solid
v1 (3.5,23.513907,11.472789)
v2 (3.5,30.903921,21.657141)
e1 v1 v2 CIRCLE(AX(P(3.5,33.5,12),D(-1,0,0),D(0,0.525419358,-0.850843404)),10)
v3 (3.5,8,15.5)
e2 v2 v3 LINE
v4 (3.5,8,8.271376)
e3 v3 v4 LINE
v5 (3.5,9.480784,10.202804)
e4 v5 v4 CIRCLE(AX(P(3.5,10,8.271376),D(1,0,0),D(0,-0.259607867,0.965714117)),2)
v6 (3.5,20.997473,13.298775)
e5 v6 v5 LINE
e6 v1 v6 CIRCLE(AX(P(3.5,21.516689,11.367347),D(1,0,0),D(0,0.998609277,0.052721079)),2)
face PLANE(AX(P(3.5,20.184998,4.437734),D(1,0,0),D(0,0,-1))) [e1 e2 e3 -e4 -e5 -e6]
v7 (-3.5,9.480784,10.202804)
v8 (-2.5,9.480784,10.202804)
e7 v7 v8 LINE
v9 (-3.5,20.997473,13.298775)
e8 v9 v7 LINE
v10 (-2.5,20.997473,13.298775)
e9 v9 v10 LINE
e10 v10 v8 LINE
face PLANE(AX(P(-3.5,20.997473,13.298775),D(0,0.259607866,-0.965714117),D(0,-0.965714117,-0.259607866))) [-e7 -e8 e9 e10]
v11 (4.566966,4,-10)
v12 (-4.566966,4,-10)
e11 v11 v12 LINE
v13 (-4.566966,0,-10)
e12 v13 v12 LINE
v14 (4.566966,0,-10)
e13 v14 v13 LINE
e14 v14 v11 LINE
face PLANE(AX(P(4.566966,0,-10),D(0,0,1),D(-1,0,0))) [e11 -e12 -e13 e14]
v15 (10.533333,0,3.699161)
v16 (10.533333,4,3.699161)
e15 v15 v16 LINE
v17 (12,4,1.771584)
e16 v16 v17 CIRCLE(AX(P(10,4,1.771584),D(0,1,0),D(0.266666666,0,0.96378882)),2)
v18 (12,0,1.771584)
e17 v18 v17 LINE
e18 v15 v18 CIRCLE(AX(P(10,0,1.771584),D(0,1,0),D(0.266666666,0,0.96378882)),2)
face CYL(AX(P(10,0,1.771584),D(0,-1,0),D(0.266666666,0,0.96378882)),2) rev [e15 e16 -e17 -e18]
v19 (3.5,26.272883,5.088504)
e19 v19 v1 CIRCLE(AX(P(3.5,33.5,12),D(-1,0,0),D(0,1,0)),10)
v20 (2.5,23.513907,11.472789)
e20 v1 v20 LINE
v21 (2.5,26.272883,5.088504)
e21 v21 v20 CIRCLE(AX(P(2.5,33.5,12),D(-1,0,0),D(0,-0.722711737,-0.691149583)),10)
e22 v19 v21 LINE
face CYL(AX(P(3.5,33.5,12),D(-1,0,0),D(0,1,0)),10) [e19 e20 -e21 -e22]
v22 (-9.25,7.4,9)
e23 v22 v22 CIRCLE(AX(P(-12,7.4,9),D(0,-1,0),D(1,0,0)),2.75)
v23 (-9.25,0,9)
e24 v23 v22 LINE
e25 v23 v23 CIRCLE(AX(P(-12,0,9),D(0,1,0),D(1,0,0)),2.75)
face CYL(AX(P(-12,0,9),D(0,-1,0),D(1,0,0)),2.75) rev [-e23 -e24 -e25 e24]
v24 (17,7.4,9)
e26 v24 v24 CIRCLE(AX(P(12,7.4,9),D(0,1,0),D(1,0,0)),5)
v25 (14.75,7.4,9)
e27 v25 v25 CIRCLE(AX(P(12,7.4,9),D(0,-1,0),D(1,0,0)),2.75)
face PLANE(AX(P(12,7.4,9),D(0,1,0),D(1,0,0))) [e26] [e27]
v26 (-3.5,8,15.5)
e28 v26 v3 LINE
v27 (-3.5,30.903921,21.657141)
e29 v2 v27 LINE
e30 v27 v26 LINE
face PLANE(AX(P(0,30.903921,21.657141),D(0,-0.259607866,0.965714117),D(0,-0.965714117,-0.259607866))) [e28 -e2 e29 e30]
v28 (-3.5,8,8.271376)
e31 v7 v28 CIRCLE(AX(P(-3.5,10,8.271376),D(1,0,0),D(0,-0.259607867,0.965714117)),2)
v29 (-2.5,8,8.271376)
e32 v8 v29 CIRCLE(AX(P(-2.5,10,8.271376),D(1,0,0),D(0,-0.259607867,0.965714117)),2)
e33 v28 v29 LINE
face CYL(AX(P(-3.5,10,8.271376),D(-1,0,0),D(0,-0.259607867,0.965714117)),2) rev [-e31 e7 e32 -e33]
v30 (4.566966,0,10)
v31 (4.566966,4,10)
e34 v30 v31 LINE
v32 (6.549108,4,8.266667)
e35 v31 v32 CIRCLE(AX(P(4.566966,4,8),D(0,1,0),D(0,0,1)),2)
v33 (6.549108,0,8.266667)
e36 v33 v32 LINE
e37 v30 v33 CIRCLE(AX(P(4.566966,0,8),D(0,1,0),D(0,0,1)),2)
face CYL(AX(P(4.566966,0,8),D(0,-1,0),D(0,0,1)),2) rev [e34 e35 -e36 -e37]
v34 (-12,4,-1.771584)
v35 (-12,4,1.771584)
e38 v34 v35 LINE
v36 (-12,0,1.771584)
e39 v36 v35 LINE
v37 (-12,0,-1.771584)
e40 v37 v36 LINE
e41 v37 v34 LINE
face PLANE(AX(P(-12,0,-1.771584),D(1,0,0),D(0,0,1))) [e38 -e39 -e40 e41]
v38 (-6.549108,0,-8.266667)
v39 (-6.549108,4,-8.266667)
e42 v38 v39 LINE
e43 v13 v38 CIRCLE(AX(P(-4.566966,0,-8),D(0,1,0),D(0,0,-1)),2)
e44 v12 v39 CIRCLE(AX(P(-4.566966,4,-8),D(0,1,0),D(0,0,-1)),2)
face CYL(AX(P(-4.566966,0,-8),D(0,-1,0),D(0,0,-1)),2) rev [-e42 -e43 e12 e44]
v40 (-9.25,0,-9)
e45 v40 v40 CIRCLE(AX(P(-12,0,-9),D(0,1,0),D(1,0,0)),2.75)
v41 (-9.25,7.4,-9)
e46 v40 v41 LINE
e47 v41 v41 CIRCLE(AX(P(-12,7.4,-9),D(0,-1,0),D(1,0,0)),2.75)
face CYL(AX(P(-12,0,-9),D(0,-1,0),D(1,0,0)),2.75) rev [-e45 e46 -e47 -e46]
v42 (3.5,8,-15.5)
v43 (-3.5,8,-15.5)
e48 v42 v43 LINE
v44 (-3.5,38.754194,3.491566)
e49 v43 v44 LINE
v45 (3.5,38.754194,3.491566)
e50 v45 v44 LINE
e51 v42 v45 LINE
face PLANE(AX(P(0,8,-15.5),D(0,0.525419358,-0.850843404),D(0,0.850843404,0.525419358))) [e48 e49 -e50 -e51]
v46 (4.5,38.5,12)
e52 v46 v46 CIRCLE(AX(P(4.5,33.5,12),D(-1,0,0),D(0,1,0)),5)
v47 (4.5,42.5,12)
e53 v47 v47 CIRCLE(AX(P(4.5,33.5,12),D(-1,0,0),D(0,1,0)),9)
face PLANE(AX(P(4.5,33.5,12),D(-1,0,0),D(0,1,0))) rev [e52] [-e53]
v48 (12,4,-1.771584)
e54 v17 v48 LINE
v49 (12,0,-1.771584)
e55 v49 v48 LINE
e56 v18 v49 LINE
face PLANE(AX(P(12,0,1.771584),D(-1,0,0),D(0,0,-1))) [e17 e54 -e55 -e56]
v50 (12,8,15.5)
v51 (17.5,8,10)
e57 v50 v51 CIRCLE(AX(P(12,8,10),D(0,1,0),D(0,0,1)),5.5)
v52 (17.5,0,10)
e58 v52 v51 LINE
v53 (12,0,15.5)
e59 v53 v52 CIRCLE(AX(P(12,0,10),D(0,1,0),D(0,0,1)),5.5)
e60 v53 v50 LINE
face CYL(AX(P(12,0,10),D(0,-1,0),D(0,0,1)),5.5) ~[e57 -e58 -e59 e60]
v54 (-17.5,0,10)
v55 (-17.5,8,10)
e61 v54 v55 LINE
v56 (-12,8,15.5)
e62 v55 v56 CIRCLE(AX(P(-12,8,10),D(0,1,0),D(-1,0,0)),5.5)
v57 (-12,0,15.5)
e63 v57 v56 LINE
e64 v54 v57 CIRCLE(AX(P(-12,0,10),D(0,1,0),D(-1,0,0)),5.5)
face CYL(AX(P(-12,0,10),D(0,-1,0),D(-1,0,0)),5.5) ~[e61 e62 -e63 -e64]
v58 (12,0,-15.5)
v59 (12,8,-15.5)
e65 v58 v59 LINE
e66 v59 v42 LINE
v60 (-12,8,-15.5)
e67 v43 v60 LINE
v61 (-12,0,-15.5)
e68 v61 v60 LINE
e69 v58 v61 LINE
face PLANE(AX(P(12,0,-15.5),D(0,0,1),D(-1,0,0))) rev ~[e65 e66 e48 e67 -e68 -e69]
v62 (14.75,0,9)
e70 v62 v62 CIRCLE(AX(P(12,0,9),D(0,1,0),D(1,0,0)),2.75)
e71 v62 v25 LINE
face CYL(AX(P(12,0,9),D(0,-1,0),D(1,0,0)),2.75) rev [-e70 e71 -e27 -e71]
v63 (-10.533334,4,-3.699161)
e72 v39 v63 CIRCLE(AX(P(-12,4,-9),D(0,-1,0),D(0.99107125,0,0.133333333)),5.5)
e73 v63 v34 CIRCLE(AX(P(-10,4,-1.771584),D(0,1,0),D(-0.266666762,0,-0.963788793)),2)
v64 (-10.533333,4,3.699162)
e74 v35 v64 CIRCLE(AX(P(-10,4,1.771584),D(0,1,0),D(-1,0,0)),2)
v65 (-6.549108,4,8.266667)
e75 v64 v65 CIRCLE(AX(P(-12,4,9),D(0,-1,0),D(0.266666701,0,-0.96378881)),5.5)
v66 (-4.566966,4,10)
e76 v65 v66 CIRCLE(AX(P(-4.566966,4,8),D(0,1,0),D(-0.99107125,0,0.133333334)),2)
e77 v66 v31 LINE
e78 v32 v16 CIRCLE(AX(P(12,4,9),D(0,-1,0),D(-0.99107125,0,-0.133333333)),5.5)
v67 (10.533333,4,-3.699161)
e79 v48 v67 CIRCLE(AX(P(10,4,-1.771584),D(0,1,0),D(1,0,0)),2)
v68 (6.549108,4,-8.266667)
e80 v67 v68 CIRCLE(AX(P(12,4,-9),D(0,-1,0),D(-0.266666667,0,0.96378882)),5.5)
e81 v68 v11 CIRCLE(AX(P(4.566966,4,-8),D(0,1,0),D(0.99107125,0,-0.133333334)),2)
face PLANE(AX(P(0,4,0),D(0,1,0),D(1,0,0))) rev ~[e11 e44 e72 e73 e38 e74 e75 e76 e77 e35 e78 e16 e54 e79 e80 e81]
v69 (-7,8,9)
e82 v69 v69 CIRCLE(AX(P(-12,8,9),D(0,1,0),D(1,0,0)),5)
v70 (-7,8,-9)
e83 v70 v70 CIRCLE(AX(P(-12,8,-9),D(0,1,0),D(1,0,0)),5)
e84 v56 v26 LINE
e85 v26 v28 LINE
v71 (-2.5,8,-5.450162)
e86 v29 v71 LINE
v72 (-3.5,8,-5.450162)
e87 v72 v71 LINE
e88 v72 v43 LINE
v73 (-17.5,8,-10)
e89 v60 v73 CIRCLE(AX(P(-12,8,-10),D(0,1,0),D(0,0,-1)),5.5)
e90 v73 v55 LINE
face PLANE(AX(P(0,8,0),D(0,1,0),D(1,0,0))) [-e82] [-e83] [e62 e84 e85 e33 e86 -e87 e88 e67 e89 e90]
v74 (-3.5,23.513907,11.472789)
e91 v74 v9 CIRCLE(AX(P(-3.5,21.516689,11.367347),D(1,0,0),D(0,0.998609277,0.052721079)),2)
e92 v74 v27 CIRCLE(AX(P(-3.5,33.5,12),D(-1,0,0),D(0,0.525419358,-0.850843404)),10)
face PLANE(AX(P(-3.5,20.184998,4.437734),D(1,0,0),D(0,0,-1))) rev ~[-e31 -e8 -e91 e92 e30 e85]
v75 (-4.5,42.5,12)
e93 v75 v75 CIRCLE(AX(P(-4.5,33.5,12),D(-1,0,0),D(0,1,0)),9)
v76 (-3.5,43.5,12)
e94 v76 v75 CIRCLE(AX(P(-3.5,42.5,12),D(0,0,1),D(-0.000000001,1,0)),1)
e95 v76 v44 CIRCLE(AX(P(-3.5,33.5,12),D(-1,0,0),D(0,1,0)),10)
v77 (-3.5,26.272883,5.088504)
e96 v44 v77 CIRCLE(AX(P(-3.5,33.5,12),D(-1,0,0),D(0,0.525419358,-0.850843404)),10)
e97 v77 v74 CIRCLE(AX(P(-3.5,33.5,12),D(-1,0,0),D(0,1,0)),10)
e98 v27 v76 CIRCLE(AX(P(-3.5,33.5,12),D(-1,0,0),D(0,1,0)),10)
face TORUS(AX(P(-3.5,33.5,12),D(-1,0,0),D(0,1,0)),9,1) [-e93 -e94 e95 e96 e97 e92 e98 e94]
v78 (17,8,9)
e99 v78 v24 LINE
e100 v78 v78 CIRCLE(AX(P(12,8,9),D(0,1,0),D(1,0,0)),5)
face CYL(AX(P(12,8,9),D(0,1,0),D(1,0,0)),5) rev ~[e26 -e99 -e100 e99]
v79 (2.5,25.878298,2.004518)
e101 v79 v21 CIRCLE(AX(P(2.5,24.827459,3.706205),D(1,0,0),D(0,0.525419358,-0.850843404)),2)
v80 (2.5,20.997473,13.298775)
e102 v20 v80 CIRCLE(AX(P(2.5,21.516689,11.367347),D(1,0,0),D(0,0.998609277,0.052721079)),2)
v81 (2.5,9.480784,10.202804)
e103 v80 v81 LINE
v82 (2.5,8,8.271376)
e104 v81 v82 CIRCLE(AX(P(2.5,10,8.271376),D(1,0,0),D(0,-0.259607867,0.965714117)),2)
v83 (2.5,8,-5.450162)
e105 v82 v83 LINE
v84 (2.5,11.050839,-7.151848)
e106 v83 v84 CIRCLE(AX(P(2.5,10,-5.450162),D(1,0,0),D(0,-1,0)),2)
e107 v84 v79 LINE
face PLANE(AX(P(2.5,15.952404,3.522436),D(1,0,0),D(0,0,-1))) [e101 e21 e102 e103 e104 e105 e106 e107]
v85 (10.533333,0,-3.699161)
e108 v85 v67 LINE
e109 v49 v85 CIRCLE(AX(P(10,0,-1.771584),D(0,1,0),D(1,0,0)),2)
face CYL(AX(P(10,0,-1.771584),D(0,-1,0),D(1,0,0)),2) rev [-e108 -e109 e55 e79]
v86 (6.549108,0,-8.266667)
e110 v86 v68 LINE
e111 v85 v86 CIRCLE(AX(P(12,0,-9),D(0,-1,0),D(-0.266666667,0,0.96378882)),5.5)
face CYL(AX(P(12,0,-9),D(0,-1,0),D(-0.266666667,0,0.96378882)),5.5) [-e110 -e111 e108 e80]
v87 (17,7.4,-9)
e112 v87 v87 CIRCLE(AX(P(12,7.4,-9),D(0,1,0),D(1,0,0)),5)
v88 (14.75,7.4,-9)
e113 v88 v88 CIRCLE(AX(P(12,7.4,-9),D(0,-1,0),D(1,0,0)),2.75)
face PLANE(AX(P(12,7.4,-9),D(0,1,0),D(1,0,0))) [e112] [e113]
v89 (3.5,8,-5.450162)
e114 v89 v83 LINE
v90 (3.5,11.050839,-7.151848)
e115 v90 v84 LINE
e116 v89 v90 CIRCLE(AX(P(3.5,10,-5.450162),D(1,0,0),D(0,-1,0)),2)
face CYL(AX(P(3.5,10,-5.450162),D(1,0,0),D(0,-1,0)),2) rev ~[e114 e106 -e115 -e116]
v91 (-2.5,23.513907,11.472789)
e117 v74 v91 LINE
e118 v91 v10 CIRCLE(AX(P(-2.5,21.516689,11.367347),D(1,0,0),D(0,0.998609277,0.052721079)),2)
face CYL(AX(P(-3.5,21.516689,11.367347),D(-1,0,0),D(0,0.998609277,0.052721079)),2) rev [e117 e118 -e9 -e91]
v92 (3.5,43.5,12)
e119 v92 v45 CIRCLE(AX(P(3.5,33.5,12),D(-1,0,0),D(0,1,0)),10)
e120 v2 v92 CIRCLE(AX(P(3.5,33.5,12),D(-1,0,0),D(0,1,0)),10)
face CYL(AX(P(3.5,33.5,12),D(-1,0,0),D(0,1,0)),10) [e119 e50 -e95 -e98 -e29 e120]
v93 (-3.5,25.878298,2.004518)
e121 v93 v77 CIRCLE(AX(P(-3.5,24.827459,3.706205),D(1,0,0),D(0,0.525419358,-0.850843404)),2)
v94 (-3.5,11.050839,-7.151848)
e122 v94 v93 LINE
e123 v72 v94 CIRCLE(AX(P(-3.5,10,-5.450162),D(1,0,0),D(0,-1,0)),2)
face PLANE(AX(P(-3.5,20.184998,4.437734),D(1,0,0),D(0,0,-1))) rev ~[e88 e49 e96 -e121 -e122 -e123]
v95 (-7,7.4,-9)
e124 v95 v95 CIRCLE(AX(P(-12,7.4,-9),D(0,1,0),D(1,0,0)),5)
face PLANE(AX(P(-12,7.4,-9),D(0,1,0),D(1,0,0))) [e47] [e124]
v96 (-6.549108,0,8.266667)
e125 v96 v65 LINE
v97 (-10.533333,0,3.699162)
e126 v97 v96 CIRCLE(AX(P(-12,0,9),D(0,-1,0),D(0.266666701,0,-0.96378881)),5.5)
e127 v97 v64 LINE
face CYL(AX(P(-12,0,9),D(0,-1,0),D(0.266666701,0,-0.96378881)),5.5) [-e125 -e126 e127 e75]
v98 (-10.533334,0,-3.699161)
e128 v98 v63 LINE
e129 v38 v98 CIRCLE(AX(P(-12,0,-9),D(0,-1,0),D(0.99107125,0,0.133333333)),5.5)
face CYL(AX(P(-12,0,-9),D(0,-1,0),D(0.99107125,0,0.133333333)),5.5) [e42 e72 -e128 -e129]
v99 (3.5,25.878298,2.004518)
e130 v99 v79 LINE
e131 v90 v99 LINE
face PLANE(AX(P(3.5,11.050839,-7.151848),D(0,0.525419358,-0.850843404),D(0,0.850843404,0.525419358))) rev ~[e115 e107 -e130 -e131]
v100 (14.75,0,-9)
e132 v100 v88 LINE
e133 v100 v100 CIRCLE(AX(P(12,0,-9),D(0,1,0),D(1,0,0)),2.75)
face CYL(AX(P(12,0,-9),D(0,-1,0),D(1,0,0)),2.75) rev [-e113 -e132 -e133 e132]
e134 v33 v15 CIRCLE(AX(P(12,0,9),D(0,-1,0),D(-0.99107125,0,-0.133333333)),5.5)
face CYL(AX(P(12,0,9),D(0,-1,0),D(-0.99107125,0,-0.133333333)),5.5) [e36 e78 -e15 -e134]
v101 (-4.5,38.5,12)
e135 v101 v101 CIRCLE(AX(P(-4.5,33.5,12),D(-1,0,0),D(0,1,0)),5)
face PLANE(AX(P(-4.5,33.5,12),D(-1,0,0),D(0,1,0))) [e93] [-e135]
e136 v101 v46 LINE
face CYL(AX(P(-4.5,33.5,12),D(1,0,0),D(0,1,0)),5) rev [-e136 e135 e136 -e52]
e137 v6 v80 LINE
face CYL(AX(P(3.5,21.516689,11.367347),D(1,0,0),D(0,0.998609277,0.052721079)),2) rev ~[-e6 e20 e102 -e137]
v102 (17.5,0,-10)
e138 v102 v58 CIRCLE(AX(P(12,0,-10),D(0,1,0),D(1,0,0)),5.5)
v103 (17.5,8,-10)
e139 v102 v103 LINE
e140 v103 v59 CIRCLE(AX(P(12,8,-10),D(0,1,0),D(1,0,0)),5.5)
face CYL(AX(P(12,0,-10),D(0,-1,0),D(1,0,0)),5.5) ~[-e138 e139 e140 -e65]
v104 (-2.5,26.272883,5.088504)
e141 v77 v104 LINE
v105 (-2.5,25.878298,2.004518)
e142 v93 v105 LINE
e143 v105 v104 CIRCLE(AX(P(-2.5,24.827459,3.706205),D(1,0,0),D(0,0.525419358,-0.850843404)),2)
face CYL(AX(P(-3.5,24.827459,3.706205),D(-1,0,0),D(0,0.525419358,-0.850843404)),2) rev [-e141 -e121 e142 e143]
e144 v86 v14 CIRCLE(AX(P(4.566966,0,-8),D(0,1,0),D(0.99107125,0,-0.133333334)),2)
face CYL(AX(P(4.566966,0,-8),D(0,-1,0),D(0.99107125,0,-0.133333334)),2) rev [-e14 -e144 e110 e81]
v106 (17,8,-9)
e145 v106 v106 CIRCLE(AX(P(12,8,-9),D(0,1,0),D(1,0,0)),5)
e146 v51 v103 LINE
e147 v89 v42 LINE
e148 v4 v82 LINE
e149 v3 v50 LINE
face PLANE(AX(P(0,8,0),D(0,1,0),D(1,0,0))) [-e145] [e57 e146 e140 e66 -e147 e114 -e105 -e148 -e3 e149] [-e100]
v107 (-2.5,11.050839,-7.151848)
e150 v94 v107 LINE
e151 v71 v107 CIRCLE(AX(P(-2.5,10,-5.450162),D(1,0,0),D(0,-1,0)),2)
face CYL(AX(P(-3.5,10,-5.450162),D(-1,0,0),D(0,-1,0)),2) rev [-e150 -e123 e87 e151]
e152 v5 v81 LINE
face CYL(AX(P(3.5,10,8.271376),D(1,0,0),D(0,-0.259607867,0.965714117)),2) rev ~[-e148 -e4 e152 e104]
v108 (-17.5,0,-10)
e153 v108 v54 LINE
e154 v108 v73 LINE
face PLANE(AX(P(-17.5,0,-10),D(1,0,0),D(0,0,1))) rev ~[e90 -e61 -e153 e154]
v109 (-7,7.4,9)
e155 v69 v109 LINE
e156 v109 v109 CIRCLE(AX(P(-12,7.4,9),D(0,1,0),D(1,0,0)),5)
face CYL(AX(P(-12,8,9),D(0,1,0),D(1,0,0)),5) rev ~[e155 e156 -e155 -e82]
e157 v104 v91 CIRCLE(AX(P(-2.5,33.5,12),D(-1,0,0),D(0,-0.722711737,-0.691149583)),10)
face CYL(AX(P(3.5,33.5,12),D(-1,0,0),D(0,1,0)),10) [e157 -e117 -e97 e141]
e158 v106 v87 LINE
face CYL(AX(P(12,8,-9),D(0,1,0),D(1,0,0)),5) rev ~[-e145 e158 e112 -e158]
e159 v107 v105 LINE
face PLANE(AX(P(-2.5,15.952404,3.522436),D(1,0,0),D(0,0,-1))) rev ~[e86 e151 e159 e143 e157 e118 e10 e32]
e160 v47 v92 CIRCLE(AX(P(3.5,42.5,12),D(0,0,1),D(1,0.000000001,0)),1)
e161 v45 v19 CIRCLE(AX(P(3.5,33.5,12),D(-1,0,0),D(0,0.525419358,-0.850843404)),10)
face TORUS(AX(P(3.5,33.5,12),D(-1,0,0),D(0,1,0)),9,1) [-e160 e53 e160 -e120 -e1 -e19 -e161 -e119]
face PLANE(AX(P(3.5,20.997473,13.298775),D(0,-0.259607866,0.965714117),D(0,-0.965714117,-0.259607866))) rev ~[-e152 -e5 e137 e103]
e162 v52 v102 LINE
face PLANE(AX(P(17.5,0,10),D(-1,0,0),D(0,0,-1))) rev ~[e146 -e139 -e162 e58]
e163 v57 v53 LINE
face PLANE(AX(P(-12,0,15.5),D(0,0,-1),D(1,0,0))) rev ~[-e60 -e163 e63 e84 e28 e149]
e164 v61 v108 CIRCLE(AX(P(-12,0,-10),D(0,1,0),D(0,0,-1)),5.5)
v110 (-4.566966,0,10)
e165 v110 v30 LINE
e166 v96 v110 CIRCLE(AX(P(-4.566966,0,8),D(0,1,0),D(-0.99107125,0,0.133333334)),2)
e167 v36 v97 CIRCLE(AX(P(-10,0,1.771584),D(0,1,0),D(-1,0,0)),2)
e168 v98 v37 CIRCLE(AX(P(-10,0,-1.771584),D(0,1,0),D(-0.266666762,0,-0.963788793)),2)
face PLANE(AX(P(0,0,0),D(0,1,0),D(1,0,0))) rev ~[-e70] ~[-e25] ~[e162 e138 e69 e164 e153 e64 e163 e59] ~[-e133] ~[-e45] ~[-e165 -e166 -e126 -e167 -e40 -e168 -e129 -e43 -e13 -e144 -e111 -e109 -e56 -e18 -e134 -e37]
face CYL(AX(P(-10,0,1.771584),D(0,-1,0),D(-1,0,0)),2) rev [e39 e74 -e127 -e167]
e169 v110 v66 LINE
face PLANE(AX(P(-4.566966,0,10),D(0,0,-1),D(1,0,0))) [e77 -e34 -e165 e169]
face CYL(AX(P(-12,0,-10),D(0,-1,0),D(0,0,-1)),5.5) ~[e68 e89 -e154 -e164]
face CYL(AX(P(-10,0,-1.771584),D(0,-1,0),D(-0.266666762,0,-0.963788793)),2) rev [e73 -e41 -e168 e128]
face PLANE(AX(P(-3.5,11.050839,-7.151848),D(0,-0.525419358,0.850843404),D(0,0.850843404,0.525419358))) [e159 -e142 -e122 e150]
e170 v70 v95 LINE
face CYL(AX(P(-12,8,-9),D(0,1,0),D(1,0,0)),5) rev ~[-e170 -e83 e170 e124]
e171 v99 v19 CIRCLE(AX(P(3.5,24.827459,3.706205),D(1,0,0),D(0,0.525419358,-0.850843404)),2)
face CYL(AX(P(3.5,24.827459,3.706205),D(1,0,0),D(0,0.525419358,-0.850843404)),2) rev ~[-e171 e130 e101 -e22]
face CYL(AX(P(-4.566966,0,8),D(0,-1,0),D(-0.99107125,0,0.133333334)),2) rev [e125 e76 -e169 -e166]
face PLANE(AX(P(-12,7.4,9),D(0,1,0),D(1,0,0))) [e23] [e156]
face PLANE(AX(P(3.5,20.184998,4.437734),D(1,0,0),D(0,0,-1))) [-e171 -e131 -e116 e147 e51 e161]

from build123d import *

# Parameters (mm, degrees)
SKETCH1_R                = 2.75
BOSS_EXTRUDE1_DEPTH      = 8
BOSS_EXTRUDE2_DEPTH      = 3.5
BOSS_EXTRUDE2_DEPTH_BACK = 3.5
CUT_EXTRUDE1_DEPTH       = 1
CUT_EXTRUDE2_DEPTH       = 1
CUT_EXTRUDE3_DEPTH       = 4
SKETCH7_R                = 5
CUT_EXTRUDE4_DEPTH       = 0.6
SKETCH8_R                = 5
CUT_EXTRUDE5_DEPTH       = 0.6
SKETCH9_R                = 5
CUT_EXTRUDE6_DEPTH       = 0.6
SKETCH10_R               = 5
CUT_EXTRUDE7_DEPTH       = 0.6


with BuildPart() as part:
    # Sketch1 → Boss-Extrude1 (new body)
    with BuildSketch(Plane(origin=(0, 0, 0), x_dir=(1, 0, 0), z_dir=(0, 1, 0))):
        with BuildLine():
            Line((-12, -15.5), (12, -15.5))
            ThreePointArc((12, -15.5), (15.889087297, -13.889087297), (17.5, -10))
            Line((17.5, -10), (17.5, 10))
            ThreePointArc((17.5, 10), (15.889087297, 13.889087297), (12, 15.5))
            Line((12, 15.5), (-12, 15.5))
            ThreePointArc((-12, 15.5), (-15.889087297, 13.889087297), (-17.5, 10))
            Line((-17.5, 10), (-17.5, -10))
            ThreePointArc((-17.5, -10), (-15.889087297, -13.889087297), (-12, -15.5))
        make_face()
        with Locations((12, 9)):
            Circle(SKETCH1_R, mode=Mode.SUBTRACT)
        with Locations((12, -9)):
            Circle(SKETCH1_R, mode=Mode.SUBTRACT)
        with Locations((-12, 9)):
            Circle(SKETCH1_R, mode=Mode.SUBTRACT)
        with Locations((-12, -9)):
            Circle(SKETCH1_R, mode=Mode.SUBTRACT)
    extrude(amount=BOSS_EXTRUDE1_DEPTH)

    # Sketch2 → Boss-Extrude2 (add, two sides)
    with BuildSketch(Plane(origin=(0, 0, 0), x_dir=(0, 0, -1), z_dir=(1, 0, 0))) as boss_extrude2_sk:
        with BuildLine():
            Line((-21.65714117, 30.903921337), (-15.5, 8))
            Line((-15.5, 8), (15.5, 8))
            Line((15.5, 8), (-3.491565957, 38.754193576))
            ThreePointArc((-3.491565957, 38.754193576), (-8.033064713, 24.320488879), (-21.65714117, 30.903921337))
        make_face()
    extrude(amount=BOSS_EXTRUDE2_DEPTH)
    extrude(boss_extrude2_sk.sketch, amount=-BOSS_EXTRUDE2_DEPTH_BACK)

    # Sketch3 → Cut-Extrude1 (cut)
    with BuildSketch(Plane(origin=(3.5, 0, 0), x_dir=(0, 0, -1), z_dir=(1, 0, 0))):
        with BuildLine():
            Line((-13.298775285, 20.997472945), (-10.202804209, 9.480784267))
            ThreePointArc((-10.202804209, 9.480784267), (-9.48825077, 8.412796254), (-8.271375975, 8))
            Line((-8.271375975, 8), (5.450161602, 8))
            ThreePointArc((5.450161602, 8), (7.196826629, 9.025750912), (7.151848411, 11.050838715))
            Line((7.151848411, 11.050838715), (-2.004518147, 25.878297925))
            ThreePointArc((-2.004518147, 25.878297925), (-3.452381431, 26.811287231), (-5.088504172, 26.272882634))
            ThreePointArc((-5.088504172, 26.272882634), (-8.03306474, 24.320488867), (-11.47278921, 23.513907231))
            ThreePointArc((-11.47278921, 23.513907231), (-12.986087496, 22.691286214), (-13.298775285, 20.997472945))
        make_face()
    extrude(amount=-CUT_EXTRUDE1_DEPTH, mode=Mode.SUBTRACT)

    # Sketch4 → Cut-Extrude2 (cut)
    with BuildSketch(Plane(origin=(-3.5, 0, 0), x_dir=(0, 0, -1), z_dir=(1, 0, 0))):
        with BuildLine():
            Line((-13.298775285, 20.997472945), (-10.202804209, 9.480784267))
            ThreePointArc((-10.202804209, 9.480784267), (-9.48825077, 8.412796254), (-8.271375975, 8))
            Line((-8.271375975, 8), (5.450161602, 8))
            ThreePointArc((5.450161602, 8), (7.196826629, 9.025750912), (7.151848411, 11.050838715))
            Line((7.151848411, 11.050838715), (-2.004518147, 25.878297925))
            ThreePointArc((-2.004518147, 25.878297925), (-3.452381431, 26.811287231), (-5.088504172, 26.272882634))
            ThreePointArc((-5.088504172, 26.272882634), (-8.03306474, 24.320488867), (-11.47278921, 23.513907231))
            ThreePointArc((-11.47278921, 23.513907231), (-12.986087496, 22.691286214), (-13.298775285, 20.997472945))
        make_face()
    extrude(amount=CUT_EXTRUDE2_DEPTH, mode=Mode.SUBTRACT)

    # Sketch5 → Revolve1 (revolve)
    with BuildSketch(Plane.XY.offset(12)):
        with BuildLine():
            Line((-4.5, 42.5), (-4.5, 38.5))
            Line((-4.5, 38.5), (4.5, 38.5))
            Line((4.5, 38.5), (4.5, 42.5))
            ThreePointArc((4.5, 42.5), (4.207106781, 43.207106781), (3.5, 43.5))
            Line((3.5, 43.5), (-3.5, 43.5))
            ThreePointArc((-3.5, 43.5), (-4.207106781, 43.207106781), (-4.5, 42.5))
        make_face()
    revolve(axis=Axis((4.5, 33.5, 12), (-1, 0, 0)))

    # Sketch6 → Cut-Extrude3 (cut)
    with BuildSketch(Plane(origin=(0, 0, 0), x_dir=(1, 0, 0), z_dir=(0, 1, 0))):
        with BuildLine():
            Line((-12, 1.771583853), (-12, -1.771583853))
            ThreePointArc((-12, -1.771583853), (-11.591644792, -2.982644073), (-10.533333143, -3.699161545))
            ThreePointArc((-10.533333143, -3.699161545), (-7.855282825, -5.384572011), (-6.549108126, -8.266666667))
            ThreePointArc((-6.549108126, -8.266666667), (-5.883526804, -9.505545305), (-4.566965626, -10))
            Line((-4.566965626, -10), (4.566965626, -10))
            ThreePointArc((4.566965626, -10), (5.883526804, -9.505545305), (6.549108126, -8.266666667))
            ThreePointArc((6.549108126, -8.266666667), (7.85528289, -5.384571937), (10.533333333, -3.699161492))
            ThreePointArc((10.533333333, -3.699161492), (11.591644852, -2.982643994), (12, -1.771583853))
            Line((12, -1.771583853), (12, 1.771583853))
            ThreePointArc((12, 1.771583853), (11.591644852, 2.982643994), (10.533333333, 3.699161492))
            ThreePointArc((10.533333333, 3.699161492), (7.85528289, 5.384571937), (6.549108126, 8.266666667))
            ThreePointArc((6.549108126, 8.266666667), (5.883526804, 9.505545305), (4.566965626, 10))
            Line((4.566965626, 10), (-4.566965626, 10))
            ThreePointArc((-4.566965626, 10), (-5.883526804, 9.505545305), (-6.549108126, 8.266666667))
            ThreePointArc((-6.549108126, 8.266666667), (-7.855282955, 5.384571863), (-10.533333524, 3.699161439))
            ThreePointArc((-10.533333524, 3.699161439), (-11.591644911, 2.982643916), (-12, 1.771583853))
        make_face()
    extrude(amount=CUT_EXTRUDE3_DEPTH, mode=Mode.SUBTRACT)

    # Sketch7 → Cut-Extrude4 (cut)
    with BuildSketch(Plane(origin=(0, 8, 0), x_dir=(1, 0, 0), z_dir=(0, 1, 0))):
        with Locations((12, 9)):
            Circle(SKETCH7_R)
    extrude(amount=-CUT_EXTRUDE4_DEPTH, mode=Mode.SUBTRACT)

    # Sketch8 → Cut-Extrude5 (cut)
    with BuildSketch(Plane(origin=(0, 8, 0), x_dir=(1, 0, 0), z_dir=(0, 1, 0))):
        with Locations((-12, 9)):
            Circle(SKETCH8_R)
    extrude(amount=-CUT_EXTRUDE5_DEPTH, mode=Mode.SUBTRACT)

    # Sketch9 → Cut-Extrude6 (cut)
    with BuildSketch(Plane(origin=(0, 8, 0), x_dir=(1, 0, 0), z_dir=(0, 1, 0))):
        with Locations((12, -9)):
            Circle(SKETCH9_R)
    extrude(amount=-CUT_EXTRUDE6_DEPTH, mode=Mode.SUBTRACT)

    # Sketch10 → Cut-Extrude7 (cut)
    with BuildSketch(Plane(origin=(0, 8, 0), x_dir=(1, 0, 0), z_dir=(0, 1, 0))):
        with Locations((-12, -9)):
            Circle(SKETCH10_R)
    extrude(amount=-CUT_EXTRUDE7_DEPTH, mode=Mode.SUBTRACT)


solid = part.part
